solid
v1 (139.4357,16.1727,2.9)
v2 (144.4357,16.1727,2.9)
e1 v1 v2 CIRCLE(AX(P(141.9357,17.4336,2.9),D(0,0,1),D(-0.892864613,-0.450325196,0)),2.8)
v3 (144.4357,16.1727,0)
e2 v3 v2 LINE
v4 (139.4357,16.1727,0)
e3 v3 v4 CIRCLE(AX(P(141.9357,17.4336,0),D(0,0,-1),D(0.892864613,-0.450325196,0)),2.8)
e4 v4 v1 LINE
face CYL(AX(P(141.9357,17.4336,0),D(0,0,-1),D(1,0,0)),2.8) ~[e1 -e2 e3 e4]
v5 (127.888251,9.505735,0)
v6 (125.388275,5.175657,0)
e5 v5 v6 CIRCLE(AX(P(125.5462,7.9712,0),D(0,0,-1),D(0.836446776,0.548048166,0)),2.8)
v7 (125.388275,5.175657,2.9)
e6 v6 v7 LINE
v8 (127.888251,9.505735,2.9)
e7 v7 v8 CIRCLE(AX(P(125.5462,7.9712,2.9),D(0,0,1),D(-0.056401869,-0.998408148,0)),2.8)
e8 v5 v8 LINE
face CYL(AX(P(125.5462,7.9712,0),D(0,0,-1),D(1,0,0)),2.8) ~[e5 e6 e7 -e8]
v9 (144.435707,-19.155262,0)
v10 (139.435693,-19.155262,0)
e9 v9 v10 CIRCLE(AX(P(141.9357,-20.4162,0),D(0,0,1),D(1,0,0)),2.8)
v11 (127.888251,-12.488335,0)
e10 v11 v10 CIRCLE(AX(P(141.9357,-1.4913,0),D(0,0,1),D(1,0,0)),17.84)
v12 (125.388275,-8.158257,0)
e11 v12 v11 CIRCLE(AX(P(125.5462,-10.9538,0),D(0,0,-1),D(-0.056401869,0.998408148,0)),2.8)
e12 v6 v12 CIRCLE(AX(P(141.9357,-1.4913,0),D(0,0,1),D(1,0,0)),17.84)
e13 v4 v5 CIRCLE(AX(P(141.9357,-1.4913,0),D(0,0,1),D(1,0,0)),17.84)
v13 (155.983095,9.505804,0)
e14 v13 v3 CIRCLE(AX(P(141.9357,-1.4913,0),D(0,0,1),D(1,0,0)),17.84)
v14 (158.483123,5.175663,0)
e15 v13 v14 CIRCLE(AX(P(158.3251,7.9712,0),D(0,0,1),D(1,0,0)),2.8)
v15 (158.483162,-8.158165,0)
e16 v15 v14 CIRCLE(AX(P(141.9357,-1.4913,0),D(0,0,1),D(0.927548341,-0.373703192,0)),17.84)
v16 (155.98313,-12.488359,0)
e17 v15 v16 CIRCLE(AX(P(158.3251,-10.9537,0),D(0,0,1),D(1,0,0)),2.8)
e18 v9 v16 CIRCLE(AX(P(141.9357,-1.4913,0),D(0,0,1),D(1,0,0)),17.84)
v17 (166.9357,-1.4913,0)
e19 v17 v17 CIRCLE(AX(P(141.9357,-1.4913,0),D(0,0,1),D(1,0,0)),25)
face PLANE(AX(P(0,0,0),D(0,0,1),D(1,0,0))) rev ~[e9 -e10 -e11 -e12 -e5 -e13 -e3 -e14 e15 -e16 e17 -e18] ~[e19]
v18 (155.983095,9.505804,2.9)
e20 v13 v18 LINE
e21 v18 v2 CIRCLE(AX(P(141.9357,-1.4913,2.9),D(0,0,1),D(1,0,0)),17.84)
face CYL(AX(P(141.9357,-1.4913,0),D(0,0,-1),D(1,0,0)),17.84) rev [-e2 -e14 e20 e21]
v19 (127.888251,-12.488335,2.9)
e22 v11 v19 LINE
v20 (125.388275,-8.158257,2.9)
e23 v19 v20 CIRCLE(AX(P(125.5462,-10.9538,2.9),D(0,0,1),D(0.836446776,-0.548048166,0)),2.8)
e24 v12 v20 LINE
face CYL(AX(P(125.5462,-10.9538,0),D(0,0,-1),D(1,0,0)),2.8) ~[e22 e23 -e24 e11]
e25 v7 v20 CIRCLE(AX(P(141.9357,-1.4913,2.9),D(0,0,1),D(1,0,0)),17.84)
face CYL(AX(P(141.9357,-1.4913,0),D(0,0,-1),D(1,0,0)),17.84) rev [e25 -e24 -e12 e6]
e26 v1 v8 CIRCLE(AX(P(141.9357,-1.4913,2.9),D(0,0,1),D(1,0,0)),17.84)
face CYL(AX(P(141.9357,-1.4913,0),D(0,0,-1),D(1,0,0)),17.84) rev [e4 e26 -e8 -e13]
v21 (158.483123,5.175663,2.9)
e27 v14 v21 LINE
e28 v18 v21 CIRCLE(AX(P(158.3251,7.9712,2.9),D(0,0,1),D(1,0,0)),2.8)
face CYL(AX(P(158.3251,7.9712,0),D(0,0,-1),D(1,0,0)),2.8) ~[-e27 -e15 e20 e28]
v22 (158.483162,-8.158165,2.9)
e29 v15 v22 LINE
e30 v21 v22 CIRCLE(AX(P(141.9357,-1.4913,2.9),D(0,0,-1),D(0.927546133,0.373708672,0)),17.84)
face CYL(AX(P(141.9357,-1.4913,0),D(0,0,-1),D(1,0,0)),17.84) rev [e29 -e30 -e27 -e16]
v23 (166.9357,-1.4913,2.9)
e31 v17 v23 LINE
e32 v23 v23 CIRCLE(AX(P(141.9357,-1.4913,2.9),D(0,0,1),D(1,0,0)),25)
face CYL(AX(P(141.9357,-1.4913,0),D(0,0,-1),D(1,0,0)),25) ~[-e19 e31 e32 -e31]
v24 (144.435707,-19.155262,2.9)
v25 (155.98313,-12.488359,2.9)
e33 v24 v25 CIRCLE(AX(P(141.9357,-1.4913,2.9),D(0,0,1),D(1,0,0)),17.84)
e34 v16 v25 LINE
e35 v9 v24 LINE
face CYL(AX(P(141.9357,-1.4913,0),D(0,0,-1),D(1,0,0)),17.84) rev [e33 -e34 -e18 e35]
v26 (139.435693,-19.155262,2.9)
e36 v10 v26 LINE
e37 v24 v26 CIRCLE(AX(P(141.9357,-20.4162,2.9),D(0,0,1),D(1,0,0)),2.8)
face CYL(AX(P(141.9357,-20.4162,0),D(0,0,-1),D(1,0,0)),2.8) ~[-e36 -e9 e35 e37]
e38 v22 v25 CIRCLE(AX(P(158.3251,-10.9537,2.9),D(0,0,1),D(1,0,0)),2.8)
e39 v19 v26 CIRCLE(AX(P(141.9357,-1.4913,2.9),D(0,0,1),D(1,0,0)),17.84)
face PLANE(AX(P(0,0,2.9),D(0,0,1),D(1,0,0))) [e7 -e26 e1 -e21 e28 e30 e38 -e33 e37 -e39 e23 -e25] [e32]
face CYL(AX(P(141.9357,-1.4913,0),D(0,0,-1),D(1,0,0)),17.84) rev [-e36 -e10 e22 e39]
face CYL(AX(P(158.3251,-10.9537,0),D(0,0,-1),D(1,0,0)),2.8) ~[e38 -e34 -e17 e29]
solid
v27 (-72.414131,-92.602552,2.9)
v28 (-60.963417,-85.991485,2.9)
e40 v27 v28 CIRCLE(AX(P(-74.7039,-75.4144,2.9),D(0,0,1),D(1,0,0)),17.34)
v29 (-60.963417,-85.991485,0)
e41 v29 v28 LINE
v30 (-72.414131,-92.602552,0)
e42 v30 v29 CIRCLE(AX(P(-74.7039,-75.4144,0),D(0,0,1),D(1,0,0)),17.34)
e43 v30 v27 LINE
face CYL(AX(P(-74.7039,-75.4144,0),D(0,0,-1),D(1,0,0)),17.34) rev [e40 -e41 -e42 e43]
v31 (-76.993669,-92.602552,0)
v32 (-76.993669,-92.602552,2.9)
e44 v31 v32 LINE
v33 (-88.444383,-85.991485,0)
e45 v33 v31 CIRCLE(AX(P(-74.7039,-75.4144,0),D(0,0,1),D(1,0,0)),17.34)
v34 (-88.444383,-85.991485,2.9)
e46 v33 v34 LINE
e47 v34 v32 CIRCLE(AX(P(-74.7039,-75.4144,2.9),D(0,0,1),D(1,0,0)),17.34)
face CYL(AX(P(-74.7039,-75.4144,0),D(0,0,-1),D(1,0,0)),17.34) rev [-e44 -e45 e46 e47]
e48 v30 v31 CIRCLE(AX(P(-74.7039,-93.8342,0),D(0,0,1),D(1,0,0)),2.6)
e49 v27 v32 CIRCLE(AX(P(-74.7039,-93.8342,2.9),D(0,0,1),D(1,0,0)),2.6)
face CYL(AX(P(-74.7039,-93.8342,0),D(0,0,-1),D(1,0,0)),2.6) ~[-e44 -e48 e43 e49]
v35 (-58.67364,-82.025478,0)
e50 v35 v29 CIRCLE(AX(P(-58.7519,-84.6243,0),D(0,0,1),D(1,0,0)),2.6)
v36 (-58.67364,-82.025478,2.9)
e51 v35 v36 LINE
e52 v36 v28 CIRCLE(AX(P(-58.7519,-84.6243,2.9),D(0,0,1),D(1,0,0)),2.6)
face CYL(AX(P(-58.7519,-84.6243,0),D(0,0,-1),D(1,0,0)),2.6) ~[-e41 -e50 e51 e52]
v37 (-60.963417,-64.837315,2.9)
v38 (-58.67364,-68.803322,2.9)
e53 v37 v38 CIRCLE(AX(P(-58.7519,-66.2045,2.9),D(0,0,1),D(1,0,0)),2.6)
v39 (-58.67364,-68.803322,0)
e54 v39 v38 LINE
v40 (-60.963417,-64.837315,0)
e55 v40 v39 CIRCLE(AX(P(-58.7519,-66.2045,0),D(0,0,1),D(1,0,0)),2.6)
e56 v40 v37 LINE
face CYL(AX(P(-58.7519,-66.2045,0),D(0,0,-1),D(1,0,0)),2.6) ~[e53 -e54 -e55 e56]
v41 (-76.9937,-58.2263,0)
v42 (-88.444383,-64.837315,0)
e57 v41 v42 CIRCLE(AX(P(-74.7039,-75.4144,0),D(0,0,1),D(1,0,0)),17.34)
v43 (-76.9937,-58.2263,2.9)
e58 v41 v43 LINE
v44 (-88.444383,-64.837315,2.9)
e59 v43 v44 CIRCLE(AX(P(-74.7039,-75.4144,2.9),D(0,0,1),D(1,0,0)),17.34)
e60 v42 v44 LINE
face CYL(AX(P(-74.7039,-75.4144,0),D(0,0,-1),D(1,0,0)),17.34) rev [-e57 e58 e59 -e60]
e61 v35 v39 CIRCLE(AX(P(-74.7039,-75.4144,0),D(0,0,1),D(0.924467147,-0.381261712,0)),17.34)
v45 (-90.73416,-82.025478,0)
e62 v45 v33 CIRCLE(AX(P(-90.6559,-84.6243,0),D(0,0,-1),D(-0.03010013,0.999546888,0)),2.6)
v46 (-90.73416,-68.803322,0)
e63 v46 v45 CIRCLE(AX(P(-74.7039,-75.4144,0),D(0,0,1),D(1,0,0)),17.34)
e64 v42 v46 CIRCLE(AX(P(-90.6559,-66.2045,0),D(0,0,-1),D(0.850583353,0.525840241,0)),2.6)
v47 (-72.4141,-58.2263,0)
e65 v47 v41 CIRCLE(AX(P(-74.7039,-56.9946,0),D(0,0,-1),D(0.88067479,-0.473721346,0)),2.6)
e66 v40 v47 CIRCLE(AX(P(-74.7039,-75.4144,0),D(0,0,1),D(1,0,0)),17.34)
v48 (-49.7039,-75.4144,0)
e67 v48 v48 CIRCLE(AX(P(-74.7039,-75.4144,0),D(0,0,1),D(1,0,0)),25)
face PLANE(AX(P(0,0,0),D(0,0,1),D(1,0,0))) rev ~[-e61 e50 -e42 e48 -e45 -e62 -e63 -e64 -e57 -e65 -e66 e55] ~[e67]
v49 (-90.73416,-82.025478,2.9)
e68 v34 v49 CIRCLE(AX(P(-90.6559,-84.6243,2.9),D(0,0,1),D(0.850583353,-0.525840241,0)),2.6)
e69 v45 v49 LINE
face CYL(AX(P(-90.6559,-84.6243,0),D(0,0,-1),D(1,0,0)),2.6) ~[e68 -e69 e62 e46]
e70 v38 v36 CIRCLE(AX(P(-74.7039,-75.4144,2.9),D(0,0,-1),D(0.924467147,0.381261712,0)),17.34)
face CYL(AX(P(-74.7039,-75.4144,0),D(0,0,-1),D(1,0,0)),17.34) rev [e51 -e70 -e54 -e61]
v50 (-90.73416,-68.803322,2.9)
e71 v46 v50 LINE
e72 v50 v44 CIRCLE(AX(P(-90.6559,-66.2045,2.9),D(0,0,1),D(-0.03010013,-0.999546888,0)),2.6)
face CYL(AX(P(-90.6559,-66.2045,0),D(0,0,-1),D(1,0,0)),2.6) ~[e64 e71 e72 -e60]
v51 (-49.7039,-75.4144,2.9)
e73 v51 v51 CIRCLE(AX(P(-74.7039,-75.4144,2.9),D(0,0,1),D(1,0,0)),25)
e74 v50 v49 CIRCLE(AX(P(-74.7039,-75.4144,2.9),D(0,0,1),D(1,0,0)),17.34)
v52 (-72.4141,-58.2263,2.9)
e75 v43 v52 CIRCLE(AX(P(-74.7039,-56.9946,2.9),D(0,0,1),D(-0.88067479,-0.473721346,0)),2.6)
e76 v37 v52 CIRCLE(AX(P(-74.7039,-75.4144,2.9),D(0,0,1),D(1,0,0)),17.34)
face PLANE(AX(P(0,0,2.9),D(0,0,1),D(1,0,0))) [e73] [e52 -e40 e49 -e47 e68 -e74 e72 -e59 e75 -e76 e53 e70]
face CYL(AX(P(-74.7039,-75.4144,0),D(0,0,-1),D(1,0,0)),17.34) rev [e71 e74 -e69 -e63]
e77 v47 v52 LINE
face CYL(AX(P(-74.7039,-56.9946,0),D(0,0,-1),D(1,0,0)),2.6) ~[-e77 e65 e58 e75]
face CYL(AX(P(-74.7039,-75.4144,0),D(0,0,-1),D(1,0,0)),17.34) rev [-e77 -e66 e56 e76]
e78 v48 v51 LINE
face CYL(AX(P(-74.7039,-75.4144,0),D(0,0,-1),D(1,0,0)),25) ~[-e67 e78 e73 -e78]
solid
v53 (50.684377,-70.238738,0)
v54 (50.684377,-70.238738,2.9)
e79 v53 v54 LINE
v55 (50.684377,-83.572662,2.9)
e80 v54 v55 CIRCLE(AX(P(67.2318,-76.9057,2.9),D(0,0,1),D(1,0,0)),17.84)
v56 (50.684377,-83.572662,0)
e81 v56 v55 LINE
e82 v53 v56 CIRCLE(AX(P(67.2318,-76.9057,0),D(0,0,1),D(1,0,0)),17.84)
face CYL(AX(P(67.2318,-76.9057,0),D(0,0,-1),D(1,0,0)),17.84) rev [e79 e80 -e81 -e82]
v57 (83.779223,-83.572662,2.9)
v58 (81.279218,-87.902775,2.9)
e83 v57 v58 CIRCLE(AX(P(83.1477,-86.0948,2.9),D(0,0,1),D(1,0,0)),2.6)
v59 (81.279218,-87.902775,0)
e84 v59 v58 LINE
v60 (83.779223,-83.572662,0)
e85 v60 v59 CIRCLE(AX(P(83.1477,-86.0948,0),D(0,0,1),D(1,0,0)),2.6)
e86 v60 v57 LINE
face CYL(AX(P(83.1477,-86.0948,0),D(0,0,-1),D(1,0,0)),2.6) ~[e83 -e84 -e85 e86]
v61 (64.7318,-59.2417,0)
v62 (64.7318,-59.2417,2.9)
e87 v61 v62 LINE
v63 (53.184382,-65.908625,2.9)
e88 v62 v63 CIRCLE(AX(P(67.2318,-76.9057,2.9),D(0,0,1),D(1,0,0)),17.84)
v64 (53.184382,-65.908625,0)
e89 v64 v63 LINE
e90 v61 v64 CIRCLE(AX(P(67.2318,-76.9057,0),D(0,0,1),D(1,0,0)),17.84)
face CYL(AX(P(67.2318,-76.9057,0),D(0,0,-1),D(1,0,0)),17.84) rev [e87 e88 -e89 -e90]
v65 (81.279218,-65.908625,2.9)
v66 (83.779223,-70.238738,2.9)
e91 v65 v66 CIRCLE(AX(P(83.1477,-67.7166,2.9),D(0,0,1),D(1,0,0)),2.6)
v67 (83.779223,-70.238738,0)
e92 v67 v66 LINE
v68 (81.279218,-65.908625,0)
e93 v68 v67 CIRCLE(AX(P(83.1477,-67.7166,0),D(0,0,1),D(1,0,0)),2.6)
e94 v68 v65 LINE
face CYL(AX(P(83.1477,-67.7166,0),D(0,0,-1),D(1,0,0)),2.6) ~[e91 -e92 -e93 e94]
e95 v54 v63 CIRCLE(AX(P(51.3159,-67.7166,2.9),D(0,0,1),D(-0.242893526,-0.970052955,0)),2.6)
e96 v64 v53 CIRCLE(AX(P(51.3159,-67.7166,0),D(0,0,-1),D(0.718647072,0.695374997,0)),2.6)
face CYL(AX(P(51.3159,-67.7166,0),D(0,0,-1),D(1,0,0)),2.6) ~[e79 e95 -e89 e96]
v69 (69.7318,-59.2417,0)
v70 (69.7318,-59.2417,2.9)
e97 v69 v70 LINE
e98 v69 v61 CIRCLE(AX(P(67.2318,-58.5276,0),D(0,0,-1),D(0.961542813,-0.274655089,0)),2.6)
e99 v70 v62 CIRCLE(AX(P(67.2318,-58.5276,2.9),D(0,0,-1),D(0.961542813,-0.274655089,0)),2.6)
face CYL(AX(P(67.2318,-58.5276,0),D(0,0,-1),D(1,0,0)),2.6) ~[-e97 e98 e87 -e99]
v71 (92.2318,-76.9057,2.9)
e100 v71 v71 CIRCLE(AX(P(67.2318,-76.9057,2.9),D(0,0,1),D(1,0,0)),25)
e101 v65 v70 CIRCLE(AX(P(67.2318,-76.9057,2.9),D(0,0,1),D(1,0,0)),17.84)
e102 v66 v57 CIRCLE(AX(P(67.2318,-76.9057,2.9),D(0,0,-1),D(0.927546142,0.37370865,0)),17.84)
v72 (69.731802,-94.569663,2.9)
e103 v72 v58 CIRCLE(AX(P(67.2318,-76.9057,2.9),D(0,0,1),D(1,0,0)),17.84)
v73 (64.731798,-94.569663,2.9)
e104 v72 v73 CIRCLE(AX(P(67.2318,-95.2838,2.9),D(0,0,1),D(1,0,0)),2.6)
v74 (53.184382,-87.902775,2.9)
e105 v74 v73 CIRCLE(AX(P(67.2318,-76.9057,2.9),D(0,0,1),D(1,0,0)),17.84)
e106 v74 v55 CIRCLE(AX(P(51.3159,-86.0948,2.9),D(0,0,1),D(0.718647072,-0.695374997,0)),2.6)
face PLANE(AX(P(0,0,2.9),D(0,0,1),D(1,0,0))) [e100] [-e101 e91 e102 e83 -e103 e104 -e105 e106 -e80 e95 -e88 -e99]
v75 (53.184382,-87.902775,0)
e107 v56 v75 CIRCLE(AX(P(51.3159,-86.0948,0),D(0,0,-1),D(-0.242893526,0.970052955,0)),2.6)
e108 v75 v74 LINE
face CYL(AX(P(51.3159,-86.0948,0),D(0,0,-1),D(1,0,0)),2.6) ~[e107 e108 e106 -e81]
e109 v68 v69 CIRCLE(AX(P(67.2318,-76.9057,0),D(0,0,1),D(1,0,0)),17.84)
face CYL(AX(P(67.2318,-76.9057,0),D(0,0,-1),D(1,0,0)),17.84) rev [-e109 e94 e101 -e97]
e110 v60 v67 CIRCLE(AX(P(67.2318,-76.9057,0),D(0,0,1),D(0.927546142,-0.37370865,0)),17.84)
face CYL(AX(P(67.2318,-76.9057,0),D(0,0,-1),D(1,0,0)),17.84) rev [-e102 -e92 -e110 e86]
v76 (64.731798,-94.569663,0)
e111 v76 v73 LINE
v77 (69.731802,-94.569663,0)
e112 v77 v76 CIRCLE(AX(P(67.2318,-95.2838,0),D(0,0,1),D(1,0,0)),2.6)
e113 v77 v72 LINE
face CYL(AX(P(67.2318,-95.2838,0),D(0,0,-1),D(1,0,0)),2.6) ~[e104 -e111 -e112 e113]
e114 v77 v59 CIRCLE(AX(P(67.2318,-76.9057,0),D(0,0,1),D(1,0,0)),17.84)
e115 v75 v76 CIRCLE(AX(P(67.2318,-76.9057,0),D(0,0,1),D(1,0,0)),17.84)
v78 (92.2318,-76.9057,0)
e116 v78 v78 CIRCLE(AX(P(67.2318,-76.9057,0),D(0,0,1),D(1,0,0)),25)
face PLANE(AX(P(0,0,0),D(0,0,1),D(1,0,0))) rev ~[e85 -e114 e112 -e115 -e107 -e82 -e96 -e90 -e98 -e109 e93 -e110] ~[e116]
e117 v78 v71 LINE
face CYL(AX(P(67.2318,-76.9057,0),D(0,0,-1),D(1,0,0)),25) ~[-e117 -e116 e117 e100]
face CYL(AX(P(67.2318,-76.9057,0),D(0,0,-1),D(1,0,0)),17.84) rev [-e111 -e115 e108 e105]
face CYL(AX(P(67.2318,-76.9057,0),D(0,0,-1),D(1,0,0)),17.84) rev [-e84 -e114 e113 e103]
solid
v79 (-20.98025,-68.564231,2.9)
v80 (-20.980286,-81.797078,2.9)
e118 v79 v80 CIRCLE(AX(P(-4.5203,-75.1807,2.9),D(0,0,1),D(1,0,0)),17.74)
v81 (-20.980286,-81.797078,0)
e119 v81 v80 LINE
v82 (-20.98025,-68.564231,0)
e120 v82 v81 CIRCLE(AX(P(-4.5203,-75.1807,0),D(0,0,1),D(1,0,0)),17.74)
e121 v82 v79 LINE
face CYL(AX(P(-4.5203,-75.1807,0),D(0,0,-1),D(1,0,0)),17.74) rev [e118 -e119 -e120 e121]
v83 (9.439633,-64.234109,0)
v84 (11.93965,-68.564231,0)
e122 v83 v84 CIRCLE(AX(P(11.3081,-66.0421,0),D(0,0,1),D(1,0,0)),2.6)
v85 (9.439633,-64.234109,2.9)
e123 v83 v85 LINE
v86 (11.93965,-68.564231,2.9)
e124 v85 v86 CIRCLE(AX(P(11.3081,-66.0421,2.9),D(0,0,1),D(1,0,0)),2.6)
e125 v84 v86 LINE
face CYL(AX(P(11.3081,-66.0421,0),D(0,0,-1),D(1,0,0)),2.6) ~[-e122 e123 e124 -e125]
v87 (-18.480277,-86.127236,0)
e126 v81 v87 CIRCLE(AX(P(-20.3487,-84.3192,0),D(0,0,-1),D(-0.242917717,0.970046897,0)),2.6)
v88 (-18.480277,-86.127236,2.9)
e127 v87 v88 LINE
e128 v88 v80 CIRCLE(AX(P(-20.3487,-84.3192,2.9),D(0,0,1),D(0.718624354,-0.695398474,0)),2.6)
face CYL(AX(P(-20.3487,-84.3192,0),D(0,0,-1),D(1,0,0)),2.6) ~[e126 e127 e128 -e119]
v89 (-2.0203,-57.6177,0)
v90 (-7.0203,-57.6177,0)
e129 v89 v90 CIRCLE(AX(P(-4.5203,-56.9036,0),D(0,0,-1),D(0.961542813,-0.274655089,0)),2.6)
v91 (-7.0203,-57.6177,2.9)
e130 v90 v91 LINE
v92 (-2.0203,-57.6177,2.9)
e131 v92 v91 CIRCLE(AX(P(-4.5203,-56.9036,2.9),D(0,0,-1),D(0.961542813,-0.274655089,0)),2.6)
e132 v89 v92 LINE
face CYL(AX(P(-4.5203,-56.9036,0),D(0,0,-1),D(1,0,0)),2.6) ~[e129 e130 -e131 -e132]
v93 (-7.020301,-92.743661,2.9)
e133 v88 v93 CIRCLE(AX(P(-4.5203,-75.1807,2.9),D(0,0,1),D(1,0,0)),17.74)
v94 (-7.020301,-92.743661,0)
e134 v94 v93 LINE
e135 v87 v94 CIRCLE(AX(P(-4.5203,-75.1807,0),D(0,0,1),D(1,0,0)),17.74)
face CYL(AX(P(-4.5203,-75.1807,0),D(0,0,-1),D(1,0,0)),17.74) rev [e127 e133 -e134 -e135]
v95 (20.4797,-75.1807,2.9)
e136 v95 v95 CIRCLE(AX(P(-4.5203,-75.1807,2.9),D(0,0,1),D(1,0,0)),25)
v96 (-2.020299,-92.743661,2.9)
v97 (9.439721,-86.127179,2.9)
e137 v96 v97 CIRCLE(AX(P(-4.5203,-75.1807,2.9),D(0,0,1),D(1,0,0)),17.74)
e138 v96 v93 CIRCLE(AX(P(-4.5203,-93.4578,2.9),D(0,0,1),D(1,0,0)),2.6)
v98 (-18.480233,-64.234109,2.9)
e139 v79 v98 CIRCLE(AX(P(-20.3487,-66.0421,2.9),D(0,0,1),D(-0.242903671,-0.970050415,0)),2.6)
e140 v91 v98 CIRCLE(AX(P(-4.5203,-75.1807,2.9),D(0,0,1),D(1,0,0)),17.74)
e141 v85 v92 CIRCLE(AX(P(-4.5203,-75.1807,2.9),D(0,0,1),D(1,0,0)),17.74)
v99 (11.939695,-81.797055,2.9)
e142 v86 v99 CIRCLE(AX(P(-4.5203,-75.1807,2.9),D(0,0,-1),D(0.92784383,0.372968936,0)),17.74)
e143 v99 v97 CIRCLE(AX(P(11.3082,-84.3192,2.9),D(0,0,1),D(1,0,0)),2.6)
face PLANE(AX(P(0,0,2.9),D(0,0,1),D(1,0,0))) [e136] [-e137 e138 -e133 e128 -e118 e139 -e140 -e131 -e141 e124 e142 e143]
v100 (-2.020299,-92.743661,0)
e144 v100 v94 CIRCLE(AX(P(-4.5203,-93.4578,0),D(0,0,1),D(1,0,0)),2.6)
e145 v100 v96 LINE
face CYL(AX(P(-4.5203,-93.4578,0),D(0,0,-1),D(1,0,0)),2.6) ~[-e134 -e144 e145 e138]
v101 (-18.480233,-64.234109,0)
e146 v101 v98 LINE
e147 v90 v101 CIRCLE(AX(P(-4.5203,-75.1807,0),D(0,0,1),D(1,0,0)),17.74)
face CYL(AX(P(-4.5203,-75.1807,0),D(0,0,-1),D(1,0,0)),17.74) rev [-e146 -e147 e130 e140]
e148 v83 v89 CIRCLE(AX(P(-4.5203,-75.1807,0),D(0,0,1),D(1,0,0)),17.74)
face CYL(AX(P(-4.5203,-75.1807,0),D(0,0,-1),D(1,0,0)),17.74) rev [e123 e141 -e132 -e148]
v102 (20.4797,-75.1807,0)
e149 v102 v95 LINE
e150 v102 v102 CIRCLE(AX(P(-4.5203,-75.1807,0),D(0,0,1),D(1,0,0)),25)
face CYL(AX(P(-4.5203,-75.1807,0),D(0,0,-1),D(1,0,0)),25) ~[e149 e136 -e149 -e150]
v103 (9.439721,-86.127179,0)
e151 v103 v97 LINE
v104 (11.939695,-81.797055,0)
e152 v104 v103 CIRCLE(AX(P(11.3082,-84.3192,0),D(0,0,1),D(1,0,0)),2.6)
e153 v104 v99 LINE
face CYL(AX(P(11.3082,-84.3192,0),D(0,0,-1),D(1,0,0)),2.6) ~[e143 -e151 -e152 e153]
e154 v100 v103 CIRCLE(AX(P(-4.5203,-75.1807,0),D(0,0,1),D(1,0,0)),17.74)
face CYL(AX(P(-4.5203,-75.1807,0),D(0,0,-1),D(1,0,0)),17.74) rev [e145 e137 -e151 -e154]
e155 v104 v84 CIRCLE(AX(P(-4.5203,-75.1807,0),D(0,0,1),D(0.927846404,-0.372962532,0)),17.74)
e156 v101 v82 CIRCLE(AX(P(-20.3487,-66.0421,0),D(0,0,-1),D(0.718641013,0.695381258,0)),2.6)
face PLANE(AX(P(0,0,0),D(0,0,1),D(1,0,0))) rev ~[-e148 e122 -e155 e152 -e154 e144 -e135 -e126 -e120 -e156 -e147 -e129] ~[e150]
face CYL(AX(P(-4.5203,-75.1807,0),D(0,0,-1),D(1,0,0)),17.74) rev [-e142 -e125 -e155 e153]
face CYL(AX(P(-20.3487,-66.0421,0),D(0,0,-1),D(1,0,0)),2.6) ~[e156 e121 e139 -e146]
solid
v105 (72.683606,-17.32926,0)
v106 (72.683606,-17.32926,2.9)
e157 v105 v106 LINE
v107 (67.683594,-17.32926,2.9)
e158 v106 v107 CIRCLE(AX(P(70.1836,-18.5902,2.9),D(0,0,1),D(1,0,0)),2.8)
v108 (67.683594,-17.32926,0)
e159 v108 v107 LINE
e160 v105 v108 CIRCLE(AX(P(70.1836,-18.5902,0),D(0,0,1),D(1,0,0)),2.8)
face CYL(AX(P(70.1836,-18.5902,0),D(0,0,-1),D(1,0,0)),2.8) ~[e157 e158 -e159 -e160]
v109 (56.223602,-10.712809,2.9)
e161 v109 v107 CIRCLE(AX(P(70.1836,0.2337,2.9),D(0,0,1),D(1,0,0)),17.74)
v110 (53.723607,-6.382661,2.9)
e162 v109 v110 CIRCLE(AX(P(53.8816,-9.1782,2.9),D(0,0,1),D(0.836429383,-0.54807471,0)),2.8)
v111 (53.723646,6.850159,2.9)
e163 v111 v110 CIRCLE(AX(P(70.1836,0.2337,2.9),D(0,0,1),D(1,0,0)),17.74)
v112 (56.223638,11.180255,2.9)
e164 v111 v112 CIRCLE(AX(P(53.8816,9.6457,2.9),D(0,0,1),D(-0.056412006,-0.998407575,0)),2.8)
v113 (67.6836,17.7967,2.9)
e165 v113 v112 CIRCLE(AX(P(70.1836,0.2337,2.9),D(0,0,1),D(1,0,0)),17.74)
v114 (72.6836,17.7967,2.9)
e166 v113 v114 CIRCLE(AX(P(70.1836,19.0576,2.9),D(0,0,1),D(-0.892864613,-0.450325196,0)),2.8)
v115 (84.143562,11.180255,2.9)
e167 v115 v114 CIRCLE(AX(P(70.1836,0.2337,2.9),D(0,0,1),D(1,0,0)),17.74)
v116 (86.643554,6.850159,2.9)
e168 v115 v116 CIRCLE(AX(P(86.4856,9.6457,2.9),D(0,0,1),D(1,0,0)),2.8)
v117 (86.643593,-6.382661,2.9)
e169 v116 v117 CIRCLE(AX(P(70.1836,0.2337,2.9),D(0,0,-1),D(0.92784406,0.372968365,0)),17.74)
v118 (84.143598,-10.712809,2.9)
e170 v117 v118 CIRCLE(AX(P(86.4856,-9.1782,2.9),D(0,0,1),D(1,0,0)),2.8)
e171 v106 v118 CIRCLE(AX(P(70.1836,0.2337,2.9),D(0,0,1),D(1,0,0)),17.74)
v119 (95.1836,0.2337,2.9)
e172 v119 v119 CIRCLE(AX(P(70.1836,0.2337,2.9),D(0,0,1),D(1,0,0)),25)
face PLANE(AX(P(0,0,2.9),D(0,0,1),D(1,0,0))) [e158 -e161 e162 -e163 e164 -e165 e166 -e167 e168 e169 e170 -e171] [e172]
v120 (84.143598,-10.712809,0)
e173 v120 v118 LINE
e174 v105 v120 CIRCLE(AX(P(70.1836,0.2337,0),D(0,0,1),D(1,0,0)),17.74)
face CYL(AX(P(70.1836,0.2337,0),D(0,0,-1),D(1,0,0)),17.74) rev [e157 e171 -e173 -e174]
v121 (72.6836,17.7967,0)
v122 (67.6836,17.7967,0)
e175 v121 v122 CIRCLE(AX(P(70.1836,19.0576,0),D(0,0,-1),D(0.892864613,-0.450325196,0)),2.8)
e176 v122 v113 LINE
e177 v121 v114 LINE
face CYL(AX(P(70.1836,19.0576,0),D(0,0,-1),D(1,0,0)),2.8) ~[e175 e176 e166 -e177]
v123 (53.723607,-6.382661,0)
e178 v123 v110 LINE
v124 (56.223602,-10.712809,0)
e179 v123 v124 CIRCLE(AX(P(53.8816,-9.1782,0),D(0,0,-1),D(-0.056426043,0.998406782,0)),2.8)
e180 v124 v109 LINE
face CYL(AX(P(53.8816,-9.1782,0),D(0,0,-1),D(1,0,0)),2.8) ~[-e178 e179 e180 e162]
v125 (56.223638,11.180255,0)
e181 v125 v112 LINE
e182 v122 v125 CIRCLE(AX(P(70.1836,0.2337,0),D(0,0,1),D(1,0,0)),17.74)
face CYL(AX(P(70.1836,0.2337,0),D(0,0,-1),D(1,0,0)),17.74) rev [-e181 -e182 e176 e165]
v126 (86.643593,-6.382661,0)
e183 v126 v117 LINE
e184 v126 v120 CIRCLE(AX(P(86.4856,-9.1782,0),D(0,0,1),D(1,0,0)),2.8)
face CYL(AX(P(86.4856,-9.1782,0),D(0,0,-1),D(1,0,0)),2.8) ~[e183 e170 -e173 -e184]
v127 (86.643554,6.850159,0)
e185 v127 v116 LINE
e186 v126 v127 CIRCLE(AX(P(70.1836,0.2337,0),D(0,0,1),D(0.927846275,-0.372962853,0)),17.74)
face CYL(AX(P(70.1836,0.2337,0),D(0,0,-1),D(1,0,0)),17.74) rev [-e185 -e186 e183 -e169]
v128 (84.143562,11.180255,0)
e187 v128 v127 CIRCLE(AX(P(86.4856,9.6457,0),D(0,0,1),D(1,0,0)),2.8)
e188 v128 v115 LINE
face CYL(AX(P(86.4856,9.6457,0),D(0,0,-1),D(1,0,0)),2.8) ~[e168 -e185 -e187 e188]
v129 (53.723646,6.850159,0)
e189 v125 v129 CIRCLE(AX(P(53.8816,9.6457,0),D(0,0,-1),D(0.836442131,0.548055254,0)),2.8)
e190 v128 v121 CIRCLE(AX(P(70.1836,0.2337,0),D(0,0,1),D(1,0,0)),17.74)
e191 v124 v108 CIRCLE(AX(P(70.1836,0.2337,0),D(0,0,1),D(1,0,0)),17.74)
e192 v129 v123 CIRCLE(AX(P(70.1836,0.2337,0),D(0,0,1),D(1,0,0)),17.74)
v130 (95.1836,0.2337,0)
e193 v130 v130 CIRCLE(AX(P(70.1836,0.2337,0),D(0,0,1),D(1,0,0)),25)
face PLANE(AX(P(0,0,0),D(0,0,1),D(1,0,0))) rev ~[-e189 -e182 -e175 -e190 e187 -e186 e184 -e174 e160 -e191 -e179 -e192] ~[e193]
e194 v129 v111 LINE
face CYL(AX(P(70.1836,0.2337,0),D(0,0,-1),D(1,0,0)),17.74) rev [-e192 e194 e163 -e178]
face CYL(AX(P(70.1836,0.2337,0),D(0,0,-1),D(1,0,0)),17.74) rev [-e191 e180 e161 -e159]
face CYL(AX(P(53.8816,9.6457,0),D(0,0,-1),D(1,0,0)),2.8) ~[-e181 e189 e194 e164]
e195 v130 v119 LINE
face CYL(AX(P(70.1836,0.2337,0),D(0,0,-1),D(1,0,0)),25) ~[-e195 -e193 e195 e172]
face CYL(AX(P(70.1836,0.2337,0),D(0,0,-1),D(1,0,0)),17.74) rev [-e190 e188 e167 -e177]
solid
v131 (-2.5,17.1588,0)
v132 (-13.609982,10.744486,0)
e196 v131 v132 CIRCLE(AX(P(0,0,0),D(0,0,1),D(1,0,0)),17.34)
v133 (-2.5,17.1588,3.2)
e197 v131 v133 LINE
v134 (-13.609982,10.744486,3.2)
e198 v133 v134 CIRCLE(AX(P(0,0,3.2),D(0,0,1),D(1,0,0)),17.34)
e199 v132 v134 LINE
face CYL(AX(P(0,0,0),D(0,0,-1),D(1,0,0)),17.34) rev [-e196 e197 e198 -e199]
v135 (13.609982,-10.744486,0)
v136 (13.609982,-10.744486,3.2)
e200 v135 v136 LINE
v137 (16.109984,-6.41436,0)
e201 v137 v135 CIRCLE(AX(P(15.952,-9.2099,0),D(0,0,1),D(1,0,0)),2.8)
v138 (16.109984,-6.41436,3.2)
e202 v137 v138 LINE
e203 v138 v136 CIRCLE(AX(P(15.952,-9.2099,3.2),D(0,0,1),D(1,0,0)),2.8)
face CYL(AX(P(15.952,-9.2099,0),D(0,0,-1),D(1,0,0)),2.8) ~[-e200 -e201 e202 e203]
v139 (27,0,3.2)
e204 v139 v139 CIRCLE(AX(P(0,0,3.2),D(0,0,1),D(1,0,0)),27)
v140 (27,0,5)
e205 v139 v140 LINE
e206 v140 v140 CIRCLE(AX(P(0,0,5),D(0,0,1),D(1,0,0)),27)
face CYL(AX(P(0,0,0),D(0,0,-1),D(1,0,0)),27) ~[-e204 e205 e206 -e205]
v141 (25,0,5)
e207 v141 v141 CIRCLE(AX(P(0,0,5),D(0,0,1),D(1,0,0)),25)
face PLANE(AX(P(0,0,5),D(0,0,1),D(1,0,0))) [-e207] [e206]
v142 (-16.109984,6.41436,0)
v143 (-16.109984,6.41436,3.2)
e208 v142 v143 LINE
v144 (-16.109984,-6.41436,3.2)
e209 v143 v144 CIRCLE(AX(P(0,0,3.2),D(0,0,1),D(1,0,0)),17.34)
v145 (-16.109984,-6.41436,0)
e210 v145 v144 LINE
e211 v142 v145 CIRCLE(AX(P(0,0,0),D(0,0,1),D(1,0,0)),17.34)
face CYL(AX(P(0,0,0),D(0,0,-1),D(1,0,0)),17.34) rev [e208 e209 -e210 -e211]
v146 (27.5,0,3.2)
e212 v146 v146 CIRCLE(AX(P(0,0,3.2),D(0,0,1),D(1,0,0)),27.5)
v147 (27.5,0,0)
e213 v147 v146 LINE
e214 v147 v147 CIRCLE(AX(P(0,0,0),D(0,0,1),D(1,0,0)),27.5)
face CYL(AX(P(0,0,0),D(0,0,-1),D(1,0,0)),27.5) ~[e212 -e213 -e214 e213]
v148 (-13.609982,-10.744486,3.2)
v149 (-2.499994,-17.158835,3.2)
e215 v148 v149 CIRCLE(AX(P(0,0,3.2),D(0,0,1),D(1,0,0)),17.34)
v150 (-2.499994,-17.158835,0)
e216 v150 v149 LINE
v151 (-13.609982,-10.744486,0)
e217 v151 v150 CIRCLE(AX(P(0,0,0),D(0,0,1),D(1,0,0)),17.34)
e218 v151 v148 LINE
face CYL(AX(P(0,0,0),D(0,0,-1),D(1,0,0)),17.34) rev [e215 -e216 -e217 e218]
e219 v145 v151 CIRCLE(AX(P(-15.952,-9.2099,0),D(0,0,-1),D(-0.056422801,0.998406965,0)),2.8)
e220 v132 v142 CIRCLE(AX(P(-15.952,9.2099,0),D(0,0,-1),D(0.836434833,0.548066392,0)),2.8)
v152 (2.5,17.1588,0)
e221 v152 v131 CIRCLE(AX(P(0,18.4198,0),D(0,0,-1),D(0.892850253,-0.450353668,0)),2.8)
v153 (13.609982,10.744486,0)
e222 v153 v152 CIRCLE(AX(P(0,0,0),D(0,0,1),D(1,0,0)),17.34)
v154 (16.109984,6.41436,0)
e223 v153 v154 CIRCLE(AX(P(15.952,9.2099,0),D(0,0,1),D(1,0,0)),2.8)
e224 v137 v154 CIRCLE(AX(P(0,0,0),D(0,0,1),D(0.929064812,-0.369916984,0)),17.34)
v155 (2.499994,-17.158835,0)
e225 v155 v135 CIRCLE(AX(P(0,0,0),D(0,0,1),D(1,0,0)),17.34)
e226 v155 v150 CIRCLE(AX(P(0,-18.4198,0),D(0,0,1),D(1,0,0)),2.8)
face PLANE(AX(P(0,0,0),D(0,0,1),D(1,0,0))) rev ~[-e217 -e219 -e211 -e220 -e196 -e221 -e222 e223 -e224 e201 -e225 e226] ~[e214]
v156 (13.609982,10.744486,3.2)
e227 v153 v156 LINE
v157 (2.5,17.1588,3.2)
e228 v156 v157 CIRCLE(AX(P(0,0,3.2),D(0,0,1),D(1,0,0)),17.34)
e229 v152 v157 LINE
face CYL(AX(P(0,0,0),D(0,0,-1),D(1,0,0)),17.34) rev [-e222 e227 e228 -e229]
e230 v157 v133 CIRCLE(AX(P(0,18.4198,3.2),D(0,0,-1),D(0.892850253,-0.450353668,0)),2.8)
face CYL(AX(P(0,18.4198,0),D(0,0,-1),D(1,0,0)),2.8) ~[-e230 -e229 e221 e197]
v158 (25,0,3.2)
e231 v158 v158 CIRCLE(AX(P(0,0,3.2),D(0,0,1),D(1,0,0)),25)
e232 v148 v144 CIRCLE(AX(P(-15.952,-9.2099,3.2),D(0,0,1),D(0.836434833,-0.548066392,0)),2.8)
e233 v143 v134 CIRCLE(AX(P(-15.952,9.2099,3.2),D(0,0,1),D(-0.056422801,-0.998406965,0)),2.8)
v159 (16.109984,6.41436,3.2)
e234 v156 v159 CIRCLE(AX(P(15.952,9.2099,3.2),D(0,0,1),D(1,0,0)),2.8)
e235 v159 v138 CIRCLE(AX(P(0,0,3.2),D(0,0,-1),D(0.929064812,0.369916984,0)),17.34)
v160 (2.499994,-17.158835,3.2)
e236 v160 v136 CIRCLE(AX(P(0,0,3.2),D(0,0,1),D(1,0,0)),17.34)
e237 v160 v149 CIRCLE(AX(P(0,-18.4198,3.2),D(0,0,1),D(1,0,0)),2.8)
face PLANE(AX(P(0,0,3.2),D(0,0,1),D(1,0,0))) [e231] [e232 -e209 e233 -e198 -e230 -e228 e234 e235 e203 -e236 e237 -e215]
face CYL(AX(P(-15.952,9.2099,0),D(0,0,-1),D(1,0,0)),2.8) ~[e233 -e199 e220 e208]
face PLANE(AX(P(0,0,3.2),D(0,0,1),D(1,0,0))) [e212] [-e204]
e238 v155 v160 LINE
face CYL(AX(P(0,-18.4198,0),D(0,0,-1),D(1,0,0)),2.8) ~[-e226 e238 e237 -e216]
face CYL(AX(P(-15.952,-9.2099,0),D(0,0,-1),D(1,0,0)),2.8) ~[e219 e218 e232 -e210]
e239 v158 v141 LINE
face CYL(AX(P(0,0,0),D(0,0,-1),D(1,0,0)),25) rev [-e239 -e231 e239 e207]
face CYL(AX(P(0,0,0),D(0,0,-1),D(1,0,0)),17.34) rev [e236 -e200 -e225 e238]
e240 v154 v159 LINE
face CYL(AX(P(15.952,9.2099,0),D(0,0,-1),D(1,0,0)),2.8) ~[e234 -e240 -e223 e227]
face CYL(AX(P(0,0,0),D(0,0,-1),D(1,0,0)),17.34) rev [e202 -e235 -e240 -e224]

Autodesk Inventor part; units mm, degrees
ref_plane "YZ Plane" through (0, 0, 0) normal (1, 0, 0) x (0, 1, 0)
ref_plane "XZ Plane" through (0, 0, 0) normal (0, 1, 0) x (-1, 0, 0)
ref_plane "XY Plane" through (0, 0, 0) normal (0, 0, 1) x (1, 0, 0)
sketch "スケッチ1" plane through (0, 0, 0) normal (0, 0, 1) x (1, 0, 0)
  circle A0 centre (0, 0) radius 17.34
  circle A1 centre (0, 0) radius 5.5
  circle A2 centre (0, 0) radius 18.4198
  circle A3 centre (0, 18.4198) radius 2.8
  line L0 (-2.5, 17.1588) -> (2.5, 17.1588)
  line L1 (0, 15.6198) -> (0, 17.1588)
  circle A4 centre (-15.952, 9.2099) radius 2.8
  circle A5 centre (-15.952, -9.2099) radius 2.8
  circle A6 centre (0, -18.4198) radius 2.8
  circle A7 centre (15.952, -9.2099) radius 2.8
  circle A8 centre (15.952, 9.2099) radius 2.8
  circle A9 centre (0, 0) radius 0.9862
  circle A10 centre (0, 0) radius 25
  circle A11 centre (0, 0) radius 27
  circle A12 centre (0, 0) radius 27.5
  circle A13 centre (86.4856, 9.6457) radius 2.8
  circle A14 centre (53.8816, 9.6457) radius 2.8
  line L2 (70.1836, 16.2576) -> (70.1836, 17.7967)
  circle A15 centre (70.1836, 19.0576) radius 2.8
  line L3 (67.6836, 17.7967) -> (72.6836, 17.7967)
  circle A16 centre (70.1836, 0.2337) radius 18.8239
  circle A17 centre (70.1836, 0.2337) radius 17.74
  circle A18 centre (70.1836, 0.2337) radius 5.5
  circle A19 centre (86.4856, -9.1782) radius 2.8
  circle A20 centre (70.1836, -18.5902) radius 2.8
  circle A21 centre (53.8816, -9.1782) radius 2.8
  circle A22 centre (70.1836, 0.2337) radius 0.9862
  circle A23 centre (70.1836, 0.2337) radius 25
  circle A24 centre (70.1836, 0.2337) radius 27
  circle A25 centre (70.1836, 0.2337) radius 27.5
  circle A26 centre (158.3251, 7.9712) radius 2.8
  circle A27 centre (125.5462, 7.9712) radius 2.8
  line L4 (141.9357, 14.6336) -> (141.9357, 16.1727)
  circle A28 centre (141.9357, 17.4336) radius 2.8
  line L5 (139.4357, 16.1727) -> (144.4357, 16.1727)
  circle A29 centre (141.9357, -1.4913) radius 18.9249
  circle A30 centre (141.9357, -1.4913) radius 17.84
  circle A31 centre (141.9357, -1.4913) radius 5.5
  circle A32 centre (158.3251, -10.9537) radius 2.8
  circle A33 centre (141.9357, -20.4162) radius 2.8
  circle A34 centre (125.5462, -10.9538) radius 2.8
  circle A35 centre (141.9357, -1.4913) radius 0.9862
  circle A36 centre (141.9357, -1.4913) radius 25
  circle A37 centre (141.9357, -1.4913) radius 27
  circle A38 centre (141.9357, -1.4913) radius 27.5
  circle A39 centre (-58.7519, -66.2045) radius 2.6
  circle A40 centre (-90.6559, -66.2045) radius 2.6
  line L6 (-74.7039, -59.5946) -> (-74.7039, -58.2263)
  circle A41 centre (-74.7039, -56.9946) radius 2.6
  line L7 (-76.9937, -58.2263) -> (-72.4141, -58.2263)
  circle A42 centre (-74.7039, -75.4144) radius 18.4198
  circle A43 centre (-74.7039, -75.4144) radius 17.34
  circle A44 centre (-74.7039, -75.4144) radius 5.5
  circle A45 centre (-58.7519, -84.6243) radius 2.6
  circle A46 centre (-74.7039, -93.8342) radius 2.6
  circle A47 centre (-90.6559, -84.6243) radius 2.6
  circle A48 centre (-74.7039, -75.4144) radius 0.9862
  circle A49 centre (-74.7039, -75.4144) radius 25
  circle A50 centre (-74.7039, -75.4144) radius 27
  circle A51 centre (-74.7039, -75.4144) radius 27.5
  circle A52 centre (-4.5203, -75.1807) radius 5.5
  circle A53 centre (-4.5203, -75.1807) radius 17.74
  circle A54 centre (-4.5203, -75.1807) radius 18.2771
  circle A55 centre (-4.5203, -75.1807) radius 25
  circle A56 centre (-4.5203, -75.1807) radius 27.5
  circle A57 centre (-4.5203, -75.1807) radius 27
  circle A58 centre (11.3081, -66.0421) radius 2.6
  circle A59 centre (-4.5203, -75.1807) radius 0.9862
  circle A60 centre (11.3082, -84.3192) radius 2.6
  circle A61 centre (-4.5203, -93.4578) radius 2.6
  circle A62 centre (-20.3487, -66.0421) radius 2.6
  circle A63 centre (-20.3487, -84.3192) radius 2.6
  line L8 (-4.5203, -59.5036) -> (-4.5203, -57.6177)
  line L9 (-7.0203, -57.6177) -> (-2.0203, -57.6177)
  circle A64 centre (-4.5203, -56.9036) radius 2.6
  circle A65 centre (67.2318, -76.9057) radius 5.5
  circle A66 centre (67.2318, -76.9057) radius 17.84
  circle A67 centre (67.2318, -76.9057) radius 18.3781
  circle A68 centre (67.2318, -76.9057) radius 25
  circle A69 centre (67.2318, -76.9057) radius 27.5
  circle A70 centre (67.2318, -76.9057) radius 27
  circle A71 centre (83.1477, -67.7166) radius 2.6
  circle A72 centre (67.2318, -76.9057) radius 0.9862
  circle A73 centre (83.1477, -86.0948) radius 2.6
  circle A74 centre (67.2318, -95.2838) radius 2.6
  circle A75 centre (51.3159, -67.7166) radius 2.6
  circle A76 centre (51.3159, -86.0948) radius 2.6
  line L10 (67.2318, -61.1276) -> (67.2318, -59.2417)
  line L11 (64.7318, -59.2417) -> (69.7318, -59.2417)
  circle A77 centre (67.2318, -58.5276) radius 2.6
  point P0 (-0.3987, 0.1519)
  point P1 (-0.3987, 0.1519)
  point P2 (-0.3987, 0.1519)
  point P3 (-0.3987, 0.1519)
  point P4 (-0.3987, 0.1519)
  point P5 (-0.3987, 0.1519)
  point P6 (-0.3987, 0.1519)
  point P7 (-0.3987, 0.1519)
  point P8 (-0.3987, 0.1519)
  point P9 (-0.3987, 0.1519)
  point P10 (-0.3987, 0.1519)
  point P11 (-0.3987, 0.1519)
  point P12 (-0.3987, 0.1519)
  point P13 (-0.3987, 0.1519)
  point P14 (-0.3987, 0.1519)
  point P15 (-0.3987, 0.1519)
  point P16 (-0.3987, 0.1519)
  point P17 (-0.3987, 0.1519)
  point P18 (-0.3987, 0.1519)
  point P19 (-0.3987, 0.1519)
  point P20 (-0.3987, 0.1519)
  point P21 (-0.3987, 0.1519)
  point P22 (-0.3987, 0.1519)
  point P23 (-0.3987, 0.1519)
  point P24 (-0.3987, 0.1519)
  point P25 (-0.3987, 0.1519)
  point P26 (-0.3987, 0.1519)
  point P27 (-0.3987, 0.1519)
  point P28 (-0.3987, 0.1519)
  point P29 (-0.3987, 0.1519)
  point P30 (-0.3987, 0.1519)
  point P31 (-0.3987, 0.1519)
  point P32 (-0.3987, 0.1519)
  point P33 (-0.3987, 0.1519)
  point P34 (-0.3987, 0.1519)
  point P35 (-0.3987, 0.1519)
  point P36 (-0.3987, 0.1519)
  point P37 (-0.3987, 0.1519)
  point P38 (-0.3987, 0.1519)
  point P39 (-0.3987, 0.1519)
  point P40 (-0.3987, 0.1519)
  point P41 (-0.3987, 0.1519)
  point P42 (-0.3987, 0.1519)
  point P43 (-0.3987, 0.1519)
  point P44 (-0.3987, 0.1519)
  point P45 (-0.3987, 0.1519)
  point P46 (-0.3987, 0.1519)
  point P47 (-0.3987, 0.1519)
  point P48 (-0.3987, 0.1519)
  point P49 (-0.3987, 0.1519)
  point P50 (-0.3987, 0.1519)
  point P51 (-0.3987, 0.1519)
  point P52 (-0.3987, 0.1519)
  point P53 (-0.3987, 0.1519)
  point P54 (-0.3987, 0.1519)
  point P55 (-0.3987, 0.1519)
  point P56 (-0.3987, 0.1519)
  point P57 (-0.3987, 0.1519)
  point P58 (-0.3987, 0.1519)
  point P59 (-0.3987, 0.1519)
  point P60 (-0.3987, 0.1519)
  point P61 (-0.3987, 0.1519)
  point P62 (-0.3987, 0.1519)
  point P63 (-0.3987, 0.1519)
  point P64 (-0.3987, 0.1519)
  point P65 (-0.3987, 0.1519)
  point P66 (-0.3987, 0.1519)
  point P67 (-0.3987, 0.1519)
  point P68 (-0.3987, 0.1519)
  point P69 (-0.3987, 0.1519)
  point P70 (-0.3987, 0.1519)
  point P71 (-0.3987, 0.1519)
  point P72 (-0.3987, 0.1519)
  point P73 (-0.3987, 0.1519)
  point P74 (-0.3987, 0.1519)
  point P75 (-16.11, 6.4144)
  point P76 (-13.61, 10.7445)
  point P77 (-13.5271, 7.8099)
  point P78 (-13.61, -10.7445)
  point P79 (-16.11, -6.4144)
  point P80 (-13.5271, -7.8099)
  point P81 (2.5, -17.1588)
  point P82 (-2.5, -17.1588)
  point P83 (0, -15.6198)
  point P84 (16.11, -6.4144)
  point P85 (13.61, -10.7445)
  point P86 (13.5271, -7.8099)
  point P87 (13.61, 10.7445)
  point P88 (16.11, 6.4144)
  point P89 (13.5271, 7.8099)
  point P90 (16.11, 6.4144)
  point P91 (16.11, -6.4144)
  point P92 (13.61, -10.7445)
  point P93 (2.5, -17.1588)
  point P94 (-2.5, -17.1588)
  point P95 (-13.61, -10.7445)
  point P96 (-16.11, -6.4144)
  point P97 (-16.11, 6.4144)
  point P98 (-13.61, 10.7445)
  point P99 (13.61, 10.7445)
  point P100 (84.0607, 8.2457)
  point P101 (86.6436, 6.8501)
  point P102 (84.1436, 11.1803)
  point P103 (69.7849, 0.7897)
  point P104 (69.7849, 0.7897)
  point P105 (69.7849, 0.7897)
  point P106 (69.7849, 0.7897)
  point P107 (69.7849, 0.7897)
  point P108 (69.7849, 0.7897)
  point P109 (69.7849, 0.7897)
  point P110 (69.7849, 0.7897)
  point P111 (69.7849, 0.7897)
  point P112 (69.7849, 0.7897)
  point P113 (69.7849, 0.7897)
  point P114 (69.7849, 0.7897)
  point P115 (69.7849, 0.7897)
  point P116 (69.7849, 0.7897)
  point P117 (69.7849, 0.7897)
  point P118 (69.7849, 0.7897)
  point P119 (69.7849, 0.7897)
  point P120 (69.7849, 0.7897)
  point P121 (69.7849, 0.7897)
  point P122 (69.7849, 0.7897)
  point P123 (69.7849, 0.7897)
  point P124 (69.7849, 0.7897)
  point P125 (69.7849, 0.7897)
  point P126 (69.7849, 0.7897)
  point P127 (69.7849, 0.7897)
  point P128 (69.7849, 0.7897)
  point P129 (69.7849, 0.7897)
  point P130 (69.7849, 0.7897)
  point P131 (69.7849, 0.7897)
  point P132 (69.7849, 0.7897)
  point P133 (69.7849, 0.7897)
  point P134 (69.7849, 0.7897)
  point P135 (69.7849, 0.7897)
  point P136 (69.7849, 0.7897)
  point P137 (69.7849, 0.7897)
  point P138 (69.7849, 0.7897)
  point P139 (69.7849, 0.7897)
  point P140 (69.7849, 0.7897)
  point P141 (69.7849, 0.7897)
  point P142 (69.7849, 0.7897)
  point P143 (69.7849, 0.7897)
  point P144 (69.7849, 0.7897)
  point P145 (69.7849, 0.7897)
  point P146 (69.7849, 0.7897)
  point P147 (69.7849, 0.7897)
  point P148 (69.7849, 0.7897)
  point P149 (69.7849, 0.7897)
  point P150 (69.7849, 0.7897)
  point P151 (69.7849, 0.7897)
  point P152 (69.7849, 0.7897)
  point P153 (69.7849, 0.7897)
  point P154 (69.7849, 0.7897)
  point P155 (69.7849, 0.7897)
  point P156 (69.7849, 0.7897)
  point P157 (69.7849, 0.7897)
  point P158 (69.7849, 0.7897)
  point P159 (69.7849, 0.7897)
  point P160 (69.7849, 0.7897)
  point P161 (69.7849, 0.7897)
  point P162 (69.7849, 0.7897)
  point P163 (56.2236, 11.1803)
  point P164 (56.3065, 8.2457)
  point P165 (53.7236, 6.8501)
  point P166 (69.7849, 0.7897)
  point P167 (69.7849, 0.7897)
  point P168 (69.7849, 0.7897)
  point P169 (69.7849, 0.7897)
  point P170 (69.7849, 0.7897)
  point P171 (69.7849, 0.7897)
  point P172 (69.7849, 0.7897)
  point P173 (69.7849, 0.7897)
  point P174 (69.7849, 0.7897)
  point P175 (86.6436, -6.3827)
  point P176 (84.1436, -10.7128)
  point P177 (84.0607, -7.7782)
  point P178 (70.1836, -15.7902)
  point P179 (72.6836, -17.3292)
  point P180 (67.6836, -17.3292)
  point P181 (56.3065, -7.7782)
  point P182 (56.2236, -10.7128)
  point P183 (53.7236, -6.3827)
  point P184 (69.7849, 0.7897)
  point P185 (69.7849, 0.7897)
  point P186 (69.7849, 0.7897)
  point P187 (69.7849, 0.7897)
  point P188 (69.7849, 0.7897)
  point P189 (69.7849, 0.7897)
  point P190 (155.9003, 6.5712)
  point P191 (158.4831, 5.1756)
  point P192 (155.9831, 9.5058)
  point P193 (157.5628, -3.7915)
  point P194 (157.5628, -3.7915)
  point P195 (157.5628, -3.7915)
  point P196 (157.5628, -3.7915)
  point P197 (157.5628, -3.7915)
  point P198 (157.5628, -3.7915)
  point P199 (157.5628, -3.7915)
  dimension "d64" = 36.8396
  dimension "d2" = 34.68
  dimension "d3" = 5.6
  dimension "d4" = 5
  dimension "d5" = 1.5391
  dimension "d6" = 360
  dimension "d7" = 50
  dimension "d8" = 2
  dimension "d9" = 55
  dimension "d16" = 35.48
  dimension "d17" = 5.6
  dimension "d18" = 5
  dimension "d19" = 1.5391
  dimension "d20" = 360
  dimension "d21" = 50
  dimension "d22" = 2
  dimension "d23" = 55
  dimension "d26" = 35.68
  dimension "d27" = 5.6
  dimension "d28" = 5
  dimension "d29" = 1.5391
  dimension "d30" = 360
  dimension "d31" = 50
  dimension "d32" = 2
  dimension "d33" = 55
  dimension "d40" = 34.68
  dimension "d41" = 5.2
  dimension "d44" = 360
  dimension "d45" = 50
  dimension "d46" = 2
  dimension "d47" = 55
  dimension "d48" = 35.48
  dimension "d49" = 5.2
  dimension "d52" = 360
  dimension "d53" = 50
  dimension "d54" = 2
  dimension "d55" = 55
  dimension "d56" = 35.68
  dimension "d57" = 5.2
  dimension "d60" = 360
  dimension "d61" = 50
  dimension "d62" = 2
  dimension "d63" = 55
  dimension "d65" = 4.5796
extrude "押し出し1" add sketch "スケッチ1" along normal blind 3.2 contours L0 A0 | A3 A2 A8 A0 | A0 A3 A2 | A3 L1 L0 | L0 L1 A3 | A0 A4 A2 A3 | A8 A2 A0 | A0 A8 | A2 A3 | A4 A0 | A0 A4 A2 | A8 A2 A7 A0 | A8 A2 | A0 A5 A2 A4 | A2 A4 | A5 A0 | A0 A5 A2 | A7 A2 A0 | A0 A7 | A0 A6 A2 A5 | A2 A5 | A7 A2 A6 A0 | A7 A2 | A6 A0 | A0 A6 A2 | A2 A6 | A10 | A12
extrude "押し出し2" add sketch "スケッチ1" along normal blind 5 contours A11
extrude "押し出し3" add sketch "スケッチ1" along normal blind 2.9 contours A39 A42 | A42 A39 A43 | A39 A43 A41 A42 | A42 A45 A43 A39 | A43 A39 | A42 A41 | A41 A43 A42 | A41 L6 L7 | L7 A43 | A41 A43 A40 A42 | A45 A42 | A42 A45 A43 | A41 L7 L6 | A42 A40 | A40 A43 A42 | A43 A45 | A42 A46 A43 A45 | A40 A43 | A40 A43 A47 A42 | A46 A42 | A42 A46 A43 | A47 A43 A42 | A42 A47 | A43 A46 | A42 A47 A43 A46 | A47 A43 | A49 | L9 A53 | A64 A54 A58 A53 | A64 L8 L9 | A53 A64 A54 | L9 L8 A64 | A53 A62 A54 A64 | A58 A54 A53 | A53 A58 | A54 A64 | A62 A53 | A53 A62 A54 | A58 A54 A60 A53 | A58 A54 | A53 A63 A54 A62 | A54 A62 | A63 A53 | A53 A63 A54 | A60 A54 A53 | A53 A60 | A53 A61 A54 A63 | A54 A63 | A60 A54 A61 A53 | A60 A54 | A61 A53 | A53 A61 A54 | A54 A61 | A55
extrude "押し出し4" add sketch "スケッチ1" along normal blind 2.9 contours A13 A16 | A16 A13 A17 | A13 A17 A15 A16 | A16 A19 A17 A13 | A17 A13 | A16 A15 | A15 A17 A16 | A15 L2 L3 | L3 A17 | A15 A17 A14 A16 | A19 A16 | A16 A19 A17 | A15 L3 L2 | A16 A14 | A14 A17 A16 | A17 A19 | A16 A20 A17 A19 | A14 A17 | A14 A17 A21 A16 | A20 A16 | A16 A20 A17 | A21 A17 A16 | A16 A21 | A17 A20 | A16 A21 A17 A20 | A21 A17 | A23 | A26 A29 | A29 A26 A30 | A26 A30 A28 A29 | A29 A32 A30 A26 | A30 A26 | A29 A28 | A28 A30 A29 | A28 L4 L5 | L5 A30 | A28 A30 A27 A29 | A32 A29 | A29 A32 A30 | A28 L5 L4 | A29 A27 | A27 A30 A29 | A30 A32 | A29 A33 A30 A32 | A27 A30 | A27 A30 A34 A29 | A33 A29 | A29 A33 A30 | A34 A30 A29 | A29 A34 | A30 A33 | A29 A34 A30 A33 | A34 A30 | A36 | L11 A66 | A77 A67 A71 A66 | A77 L10 L11 | A66 A77 A67 | L11 L10 A77 | A66 A75 A67 A77 | A71 A67 A66 | A66 A71 | A67 A77 | A75 A66 | A66 A75 A67 | A71 A67 A73 A66 | A71 A67 | A66 A76 A67 A75 | A67 A75 | A76 A66 | A66 A76 A67 | A73 A67 A66 | A66 A73 | A66 A74 A67 A76 | A67 A76 | A73 A67 A74 A66 | A73 A67 | A74 A66 | A66 A74 A67 | A67 A74 | A68
properties part number "baicPart"
